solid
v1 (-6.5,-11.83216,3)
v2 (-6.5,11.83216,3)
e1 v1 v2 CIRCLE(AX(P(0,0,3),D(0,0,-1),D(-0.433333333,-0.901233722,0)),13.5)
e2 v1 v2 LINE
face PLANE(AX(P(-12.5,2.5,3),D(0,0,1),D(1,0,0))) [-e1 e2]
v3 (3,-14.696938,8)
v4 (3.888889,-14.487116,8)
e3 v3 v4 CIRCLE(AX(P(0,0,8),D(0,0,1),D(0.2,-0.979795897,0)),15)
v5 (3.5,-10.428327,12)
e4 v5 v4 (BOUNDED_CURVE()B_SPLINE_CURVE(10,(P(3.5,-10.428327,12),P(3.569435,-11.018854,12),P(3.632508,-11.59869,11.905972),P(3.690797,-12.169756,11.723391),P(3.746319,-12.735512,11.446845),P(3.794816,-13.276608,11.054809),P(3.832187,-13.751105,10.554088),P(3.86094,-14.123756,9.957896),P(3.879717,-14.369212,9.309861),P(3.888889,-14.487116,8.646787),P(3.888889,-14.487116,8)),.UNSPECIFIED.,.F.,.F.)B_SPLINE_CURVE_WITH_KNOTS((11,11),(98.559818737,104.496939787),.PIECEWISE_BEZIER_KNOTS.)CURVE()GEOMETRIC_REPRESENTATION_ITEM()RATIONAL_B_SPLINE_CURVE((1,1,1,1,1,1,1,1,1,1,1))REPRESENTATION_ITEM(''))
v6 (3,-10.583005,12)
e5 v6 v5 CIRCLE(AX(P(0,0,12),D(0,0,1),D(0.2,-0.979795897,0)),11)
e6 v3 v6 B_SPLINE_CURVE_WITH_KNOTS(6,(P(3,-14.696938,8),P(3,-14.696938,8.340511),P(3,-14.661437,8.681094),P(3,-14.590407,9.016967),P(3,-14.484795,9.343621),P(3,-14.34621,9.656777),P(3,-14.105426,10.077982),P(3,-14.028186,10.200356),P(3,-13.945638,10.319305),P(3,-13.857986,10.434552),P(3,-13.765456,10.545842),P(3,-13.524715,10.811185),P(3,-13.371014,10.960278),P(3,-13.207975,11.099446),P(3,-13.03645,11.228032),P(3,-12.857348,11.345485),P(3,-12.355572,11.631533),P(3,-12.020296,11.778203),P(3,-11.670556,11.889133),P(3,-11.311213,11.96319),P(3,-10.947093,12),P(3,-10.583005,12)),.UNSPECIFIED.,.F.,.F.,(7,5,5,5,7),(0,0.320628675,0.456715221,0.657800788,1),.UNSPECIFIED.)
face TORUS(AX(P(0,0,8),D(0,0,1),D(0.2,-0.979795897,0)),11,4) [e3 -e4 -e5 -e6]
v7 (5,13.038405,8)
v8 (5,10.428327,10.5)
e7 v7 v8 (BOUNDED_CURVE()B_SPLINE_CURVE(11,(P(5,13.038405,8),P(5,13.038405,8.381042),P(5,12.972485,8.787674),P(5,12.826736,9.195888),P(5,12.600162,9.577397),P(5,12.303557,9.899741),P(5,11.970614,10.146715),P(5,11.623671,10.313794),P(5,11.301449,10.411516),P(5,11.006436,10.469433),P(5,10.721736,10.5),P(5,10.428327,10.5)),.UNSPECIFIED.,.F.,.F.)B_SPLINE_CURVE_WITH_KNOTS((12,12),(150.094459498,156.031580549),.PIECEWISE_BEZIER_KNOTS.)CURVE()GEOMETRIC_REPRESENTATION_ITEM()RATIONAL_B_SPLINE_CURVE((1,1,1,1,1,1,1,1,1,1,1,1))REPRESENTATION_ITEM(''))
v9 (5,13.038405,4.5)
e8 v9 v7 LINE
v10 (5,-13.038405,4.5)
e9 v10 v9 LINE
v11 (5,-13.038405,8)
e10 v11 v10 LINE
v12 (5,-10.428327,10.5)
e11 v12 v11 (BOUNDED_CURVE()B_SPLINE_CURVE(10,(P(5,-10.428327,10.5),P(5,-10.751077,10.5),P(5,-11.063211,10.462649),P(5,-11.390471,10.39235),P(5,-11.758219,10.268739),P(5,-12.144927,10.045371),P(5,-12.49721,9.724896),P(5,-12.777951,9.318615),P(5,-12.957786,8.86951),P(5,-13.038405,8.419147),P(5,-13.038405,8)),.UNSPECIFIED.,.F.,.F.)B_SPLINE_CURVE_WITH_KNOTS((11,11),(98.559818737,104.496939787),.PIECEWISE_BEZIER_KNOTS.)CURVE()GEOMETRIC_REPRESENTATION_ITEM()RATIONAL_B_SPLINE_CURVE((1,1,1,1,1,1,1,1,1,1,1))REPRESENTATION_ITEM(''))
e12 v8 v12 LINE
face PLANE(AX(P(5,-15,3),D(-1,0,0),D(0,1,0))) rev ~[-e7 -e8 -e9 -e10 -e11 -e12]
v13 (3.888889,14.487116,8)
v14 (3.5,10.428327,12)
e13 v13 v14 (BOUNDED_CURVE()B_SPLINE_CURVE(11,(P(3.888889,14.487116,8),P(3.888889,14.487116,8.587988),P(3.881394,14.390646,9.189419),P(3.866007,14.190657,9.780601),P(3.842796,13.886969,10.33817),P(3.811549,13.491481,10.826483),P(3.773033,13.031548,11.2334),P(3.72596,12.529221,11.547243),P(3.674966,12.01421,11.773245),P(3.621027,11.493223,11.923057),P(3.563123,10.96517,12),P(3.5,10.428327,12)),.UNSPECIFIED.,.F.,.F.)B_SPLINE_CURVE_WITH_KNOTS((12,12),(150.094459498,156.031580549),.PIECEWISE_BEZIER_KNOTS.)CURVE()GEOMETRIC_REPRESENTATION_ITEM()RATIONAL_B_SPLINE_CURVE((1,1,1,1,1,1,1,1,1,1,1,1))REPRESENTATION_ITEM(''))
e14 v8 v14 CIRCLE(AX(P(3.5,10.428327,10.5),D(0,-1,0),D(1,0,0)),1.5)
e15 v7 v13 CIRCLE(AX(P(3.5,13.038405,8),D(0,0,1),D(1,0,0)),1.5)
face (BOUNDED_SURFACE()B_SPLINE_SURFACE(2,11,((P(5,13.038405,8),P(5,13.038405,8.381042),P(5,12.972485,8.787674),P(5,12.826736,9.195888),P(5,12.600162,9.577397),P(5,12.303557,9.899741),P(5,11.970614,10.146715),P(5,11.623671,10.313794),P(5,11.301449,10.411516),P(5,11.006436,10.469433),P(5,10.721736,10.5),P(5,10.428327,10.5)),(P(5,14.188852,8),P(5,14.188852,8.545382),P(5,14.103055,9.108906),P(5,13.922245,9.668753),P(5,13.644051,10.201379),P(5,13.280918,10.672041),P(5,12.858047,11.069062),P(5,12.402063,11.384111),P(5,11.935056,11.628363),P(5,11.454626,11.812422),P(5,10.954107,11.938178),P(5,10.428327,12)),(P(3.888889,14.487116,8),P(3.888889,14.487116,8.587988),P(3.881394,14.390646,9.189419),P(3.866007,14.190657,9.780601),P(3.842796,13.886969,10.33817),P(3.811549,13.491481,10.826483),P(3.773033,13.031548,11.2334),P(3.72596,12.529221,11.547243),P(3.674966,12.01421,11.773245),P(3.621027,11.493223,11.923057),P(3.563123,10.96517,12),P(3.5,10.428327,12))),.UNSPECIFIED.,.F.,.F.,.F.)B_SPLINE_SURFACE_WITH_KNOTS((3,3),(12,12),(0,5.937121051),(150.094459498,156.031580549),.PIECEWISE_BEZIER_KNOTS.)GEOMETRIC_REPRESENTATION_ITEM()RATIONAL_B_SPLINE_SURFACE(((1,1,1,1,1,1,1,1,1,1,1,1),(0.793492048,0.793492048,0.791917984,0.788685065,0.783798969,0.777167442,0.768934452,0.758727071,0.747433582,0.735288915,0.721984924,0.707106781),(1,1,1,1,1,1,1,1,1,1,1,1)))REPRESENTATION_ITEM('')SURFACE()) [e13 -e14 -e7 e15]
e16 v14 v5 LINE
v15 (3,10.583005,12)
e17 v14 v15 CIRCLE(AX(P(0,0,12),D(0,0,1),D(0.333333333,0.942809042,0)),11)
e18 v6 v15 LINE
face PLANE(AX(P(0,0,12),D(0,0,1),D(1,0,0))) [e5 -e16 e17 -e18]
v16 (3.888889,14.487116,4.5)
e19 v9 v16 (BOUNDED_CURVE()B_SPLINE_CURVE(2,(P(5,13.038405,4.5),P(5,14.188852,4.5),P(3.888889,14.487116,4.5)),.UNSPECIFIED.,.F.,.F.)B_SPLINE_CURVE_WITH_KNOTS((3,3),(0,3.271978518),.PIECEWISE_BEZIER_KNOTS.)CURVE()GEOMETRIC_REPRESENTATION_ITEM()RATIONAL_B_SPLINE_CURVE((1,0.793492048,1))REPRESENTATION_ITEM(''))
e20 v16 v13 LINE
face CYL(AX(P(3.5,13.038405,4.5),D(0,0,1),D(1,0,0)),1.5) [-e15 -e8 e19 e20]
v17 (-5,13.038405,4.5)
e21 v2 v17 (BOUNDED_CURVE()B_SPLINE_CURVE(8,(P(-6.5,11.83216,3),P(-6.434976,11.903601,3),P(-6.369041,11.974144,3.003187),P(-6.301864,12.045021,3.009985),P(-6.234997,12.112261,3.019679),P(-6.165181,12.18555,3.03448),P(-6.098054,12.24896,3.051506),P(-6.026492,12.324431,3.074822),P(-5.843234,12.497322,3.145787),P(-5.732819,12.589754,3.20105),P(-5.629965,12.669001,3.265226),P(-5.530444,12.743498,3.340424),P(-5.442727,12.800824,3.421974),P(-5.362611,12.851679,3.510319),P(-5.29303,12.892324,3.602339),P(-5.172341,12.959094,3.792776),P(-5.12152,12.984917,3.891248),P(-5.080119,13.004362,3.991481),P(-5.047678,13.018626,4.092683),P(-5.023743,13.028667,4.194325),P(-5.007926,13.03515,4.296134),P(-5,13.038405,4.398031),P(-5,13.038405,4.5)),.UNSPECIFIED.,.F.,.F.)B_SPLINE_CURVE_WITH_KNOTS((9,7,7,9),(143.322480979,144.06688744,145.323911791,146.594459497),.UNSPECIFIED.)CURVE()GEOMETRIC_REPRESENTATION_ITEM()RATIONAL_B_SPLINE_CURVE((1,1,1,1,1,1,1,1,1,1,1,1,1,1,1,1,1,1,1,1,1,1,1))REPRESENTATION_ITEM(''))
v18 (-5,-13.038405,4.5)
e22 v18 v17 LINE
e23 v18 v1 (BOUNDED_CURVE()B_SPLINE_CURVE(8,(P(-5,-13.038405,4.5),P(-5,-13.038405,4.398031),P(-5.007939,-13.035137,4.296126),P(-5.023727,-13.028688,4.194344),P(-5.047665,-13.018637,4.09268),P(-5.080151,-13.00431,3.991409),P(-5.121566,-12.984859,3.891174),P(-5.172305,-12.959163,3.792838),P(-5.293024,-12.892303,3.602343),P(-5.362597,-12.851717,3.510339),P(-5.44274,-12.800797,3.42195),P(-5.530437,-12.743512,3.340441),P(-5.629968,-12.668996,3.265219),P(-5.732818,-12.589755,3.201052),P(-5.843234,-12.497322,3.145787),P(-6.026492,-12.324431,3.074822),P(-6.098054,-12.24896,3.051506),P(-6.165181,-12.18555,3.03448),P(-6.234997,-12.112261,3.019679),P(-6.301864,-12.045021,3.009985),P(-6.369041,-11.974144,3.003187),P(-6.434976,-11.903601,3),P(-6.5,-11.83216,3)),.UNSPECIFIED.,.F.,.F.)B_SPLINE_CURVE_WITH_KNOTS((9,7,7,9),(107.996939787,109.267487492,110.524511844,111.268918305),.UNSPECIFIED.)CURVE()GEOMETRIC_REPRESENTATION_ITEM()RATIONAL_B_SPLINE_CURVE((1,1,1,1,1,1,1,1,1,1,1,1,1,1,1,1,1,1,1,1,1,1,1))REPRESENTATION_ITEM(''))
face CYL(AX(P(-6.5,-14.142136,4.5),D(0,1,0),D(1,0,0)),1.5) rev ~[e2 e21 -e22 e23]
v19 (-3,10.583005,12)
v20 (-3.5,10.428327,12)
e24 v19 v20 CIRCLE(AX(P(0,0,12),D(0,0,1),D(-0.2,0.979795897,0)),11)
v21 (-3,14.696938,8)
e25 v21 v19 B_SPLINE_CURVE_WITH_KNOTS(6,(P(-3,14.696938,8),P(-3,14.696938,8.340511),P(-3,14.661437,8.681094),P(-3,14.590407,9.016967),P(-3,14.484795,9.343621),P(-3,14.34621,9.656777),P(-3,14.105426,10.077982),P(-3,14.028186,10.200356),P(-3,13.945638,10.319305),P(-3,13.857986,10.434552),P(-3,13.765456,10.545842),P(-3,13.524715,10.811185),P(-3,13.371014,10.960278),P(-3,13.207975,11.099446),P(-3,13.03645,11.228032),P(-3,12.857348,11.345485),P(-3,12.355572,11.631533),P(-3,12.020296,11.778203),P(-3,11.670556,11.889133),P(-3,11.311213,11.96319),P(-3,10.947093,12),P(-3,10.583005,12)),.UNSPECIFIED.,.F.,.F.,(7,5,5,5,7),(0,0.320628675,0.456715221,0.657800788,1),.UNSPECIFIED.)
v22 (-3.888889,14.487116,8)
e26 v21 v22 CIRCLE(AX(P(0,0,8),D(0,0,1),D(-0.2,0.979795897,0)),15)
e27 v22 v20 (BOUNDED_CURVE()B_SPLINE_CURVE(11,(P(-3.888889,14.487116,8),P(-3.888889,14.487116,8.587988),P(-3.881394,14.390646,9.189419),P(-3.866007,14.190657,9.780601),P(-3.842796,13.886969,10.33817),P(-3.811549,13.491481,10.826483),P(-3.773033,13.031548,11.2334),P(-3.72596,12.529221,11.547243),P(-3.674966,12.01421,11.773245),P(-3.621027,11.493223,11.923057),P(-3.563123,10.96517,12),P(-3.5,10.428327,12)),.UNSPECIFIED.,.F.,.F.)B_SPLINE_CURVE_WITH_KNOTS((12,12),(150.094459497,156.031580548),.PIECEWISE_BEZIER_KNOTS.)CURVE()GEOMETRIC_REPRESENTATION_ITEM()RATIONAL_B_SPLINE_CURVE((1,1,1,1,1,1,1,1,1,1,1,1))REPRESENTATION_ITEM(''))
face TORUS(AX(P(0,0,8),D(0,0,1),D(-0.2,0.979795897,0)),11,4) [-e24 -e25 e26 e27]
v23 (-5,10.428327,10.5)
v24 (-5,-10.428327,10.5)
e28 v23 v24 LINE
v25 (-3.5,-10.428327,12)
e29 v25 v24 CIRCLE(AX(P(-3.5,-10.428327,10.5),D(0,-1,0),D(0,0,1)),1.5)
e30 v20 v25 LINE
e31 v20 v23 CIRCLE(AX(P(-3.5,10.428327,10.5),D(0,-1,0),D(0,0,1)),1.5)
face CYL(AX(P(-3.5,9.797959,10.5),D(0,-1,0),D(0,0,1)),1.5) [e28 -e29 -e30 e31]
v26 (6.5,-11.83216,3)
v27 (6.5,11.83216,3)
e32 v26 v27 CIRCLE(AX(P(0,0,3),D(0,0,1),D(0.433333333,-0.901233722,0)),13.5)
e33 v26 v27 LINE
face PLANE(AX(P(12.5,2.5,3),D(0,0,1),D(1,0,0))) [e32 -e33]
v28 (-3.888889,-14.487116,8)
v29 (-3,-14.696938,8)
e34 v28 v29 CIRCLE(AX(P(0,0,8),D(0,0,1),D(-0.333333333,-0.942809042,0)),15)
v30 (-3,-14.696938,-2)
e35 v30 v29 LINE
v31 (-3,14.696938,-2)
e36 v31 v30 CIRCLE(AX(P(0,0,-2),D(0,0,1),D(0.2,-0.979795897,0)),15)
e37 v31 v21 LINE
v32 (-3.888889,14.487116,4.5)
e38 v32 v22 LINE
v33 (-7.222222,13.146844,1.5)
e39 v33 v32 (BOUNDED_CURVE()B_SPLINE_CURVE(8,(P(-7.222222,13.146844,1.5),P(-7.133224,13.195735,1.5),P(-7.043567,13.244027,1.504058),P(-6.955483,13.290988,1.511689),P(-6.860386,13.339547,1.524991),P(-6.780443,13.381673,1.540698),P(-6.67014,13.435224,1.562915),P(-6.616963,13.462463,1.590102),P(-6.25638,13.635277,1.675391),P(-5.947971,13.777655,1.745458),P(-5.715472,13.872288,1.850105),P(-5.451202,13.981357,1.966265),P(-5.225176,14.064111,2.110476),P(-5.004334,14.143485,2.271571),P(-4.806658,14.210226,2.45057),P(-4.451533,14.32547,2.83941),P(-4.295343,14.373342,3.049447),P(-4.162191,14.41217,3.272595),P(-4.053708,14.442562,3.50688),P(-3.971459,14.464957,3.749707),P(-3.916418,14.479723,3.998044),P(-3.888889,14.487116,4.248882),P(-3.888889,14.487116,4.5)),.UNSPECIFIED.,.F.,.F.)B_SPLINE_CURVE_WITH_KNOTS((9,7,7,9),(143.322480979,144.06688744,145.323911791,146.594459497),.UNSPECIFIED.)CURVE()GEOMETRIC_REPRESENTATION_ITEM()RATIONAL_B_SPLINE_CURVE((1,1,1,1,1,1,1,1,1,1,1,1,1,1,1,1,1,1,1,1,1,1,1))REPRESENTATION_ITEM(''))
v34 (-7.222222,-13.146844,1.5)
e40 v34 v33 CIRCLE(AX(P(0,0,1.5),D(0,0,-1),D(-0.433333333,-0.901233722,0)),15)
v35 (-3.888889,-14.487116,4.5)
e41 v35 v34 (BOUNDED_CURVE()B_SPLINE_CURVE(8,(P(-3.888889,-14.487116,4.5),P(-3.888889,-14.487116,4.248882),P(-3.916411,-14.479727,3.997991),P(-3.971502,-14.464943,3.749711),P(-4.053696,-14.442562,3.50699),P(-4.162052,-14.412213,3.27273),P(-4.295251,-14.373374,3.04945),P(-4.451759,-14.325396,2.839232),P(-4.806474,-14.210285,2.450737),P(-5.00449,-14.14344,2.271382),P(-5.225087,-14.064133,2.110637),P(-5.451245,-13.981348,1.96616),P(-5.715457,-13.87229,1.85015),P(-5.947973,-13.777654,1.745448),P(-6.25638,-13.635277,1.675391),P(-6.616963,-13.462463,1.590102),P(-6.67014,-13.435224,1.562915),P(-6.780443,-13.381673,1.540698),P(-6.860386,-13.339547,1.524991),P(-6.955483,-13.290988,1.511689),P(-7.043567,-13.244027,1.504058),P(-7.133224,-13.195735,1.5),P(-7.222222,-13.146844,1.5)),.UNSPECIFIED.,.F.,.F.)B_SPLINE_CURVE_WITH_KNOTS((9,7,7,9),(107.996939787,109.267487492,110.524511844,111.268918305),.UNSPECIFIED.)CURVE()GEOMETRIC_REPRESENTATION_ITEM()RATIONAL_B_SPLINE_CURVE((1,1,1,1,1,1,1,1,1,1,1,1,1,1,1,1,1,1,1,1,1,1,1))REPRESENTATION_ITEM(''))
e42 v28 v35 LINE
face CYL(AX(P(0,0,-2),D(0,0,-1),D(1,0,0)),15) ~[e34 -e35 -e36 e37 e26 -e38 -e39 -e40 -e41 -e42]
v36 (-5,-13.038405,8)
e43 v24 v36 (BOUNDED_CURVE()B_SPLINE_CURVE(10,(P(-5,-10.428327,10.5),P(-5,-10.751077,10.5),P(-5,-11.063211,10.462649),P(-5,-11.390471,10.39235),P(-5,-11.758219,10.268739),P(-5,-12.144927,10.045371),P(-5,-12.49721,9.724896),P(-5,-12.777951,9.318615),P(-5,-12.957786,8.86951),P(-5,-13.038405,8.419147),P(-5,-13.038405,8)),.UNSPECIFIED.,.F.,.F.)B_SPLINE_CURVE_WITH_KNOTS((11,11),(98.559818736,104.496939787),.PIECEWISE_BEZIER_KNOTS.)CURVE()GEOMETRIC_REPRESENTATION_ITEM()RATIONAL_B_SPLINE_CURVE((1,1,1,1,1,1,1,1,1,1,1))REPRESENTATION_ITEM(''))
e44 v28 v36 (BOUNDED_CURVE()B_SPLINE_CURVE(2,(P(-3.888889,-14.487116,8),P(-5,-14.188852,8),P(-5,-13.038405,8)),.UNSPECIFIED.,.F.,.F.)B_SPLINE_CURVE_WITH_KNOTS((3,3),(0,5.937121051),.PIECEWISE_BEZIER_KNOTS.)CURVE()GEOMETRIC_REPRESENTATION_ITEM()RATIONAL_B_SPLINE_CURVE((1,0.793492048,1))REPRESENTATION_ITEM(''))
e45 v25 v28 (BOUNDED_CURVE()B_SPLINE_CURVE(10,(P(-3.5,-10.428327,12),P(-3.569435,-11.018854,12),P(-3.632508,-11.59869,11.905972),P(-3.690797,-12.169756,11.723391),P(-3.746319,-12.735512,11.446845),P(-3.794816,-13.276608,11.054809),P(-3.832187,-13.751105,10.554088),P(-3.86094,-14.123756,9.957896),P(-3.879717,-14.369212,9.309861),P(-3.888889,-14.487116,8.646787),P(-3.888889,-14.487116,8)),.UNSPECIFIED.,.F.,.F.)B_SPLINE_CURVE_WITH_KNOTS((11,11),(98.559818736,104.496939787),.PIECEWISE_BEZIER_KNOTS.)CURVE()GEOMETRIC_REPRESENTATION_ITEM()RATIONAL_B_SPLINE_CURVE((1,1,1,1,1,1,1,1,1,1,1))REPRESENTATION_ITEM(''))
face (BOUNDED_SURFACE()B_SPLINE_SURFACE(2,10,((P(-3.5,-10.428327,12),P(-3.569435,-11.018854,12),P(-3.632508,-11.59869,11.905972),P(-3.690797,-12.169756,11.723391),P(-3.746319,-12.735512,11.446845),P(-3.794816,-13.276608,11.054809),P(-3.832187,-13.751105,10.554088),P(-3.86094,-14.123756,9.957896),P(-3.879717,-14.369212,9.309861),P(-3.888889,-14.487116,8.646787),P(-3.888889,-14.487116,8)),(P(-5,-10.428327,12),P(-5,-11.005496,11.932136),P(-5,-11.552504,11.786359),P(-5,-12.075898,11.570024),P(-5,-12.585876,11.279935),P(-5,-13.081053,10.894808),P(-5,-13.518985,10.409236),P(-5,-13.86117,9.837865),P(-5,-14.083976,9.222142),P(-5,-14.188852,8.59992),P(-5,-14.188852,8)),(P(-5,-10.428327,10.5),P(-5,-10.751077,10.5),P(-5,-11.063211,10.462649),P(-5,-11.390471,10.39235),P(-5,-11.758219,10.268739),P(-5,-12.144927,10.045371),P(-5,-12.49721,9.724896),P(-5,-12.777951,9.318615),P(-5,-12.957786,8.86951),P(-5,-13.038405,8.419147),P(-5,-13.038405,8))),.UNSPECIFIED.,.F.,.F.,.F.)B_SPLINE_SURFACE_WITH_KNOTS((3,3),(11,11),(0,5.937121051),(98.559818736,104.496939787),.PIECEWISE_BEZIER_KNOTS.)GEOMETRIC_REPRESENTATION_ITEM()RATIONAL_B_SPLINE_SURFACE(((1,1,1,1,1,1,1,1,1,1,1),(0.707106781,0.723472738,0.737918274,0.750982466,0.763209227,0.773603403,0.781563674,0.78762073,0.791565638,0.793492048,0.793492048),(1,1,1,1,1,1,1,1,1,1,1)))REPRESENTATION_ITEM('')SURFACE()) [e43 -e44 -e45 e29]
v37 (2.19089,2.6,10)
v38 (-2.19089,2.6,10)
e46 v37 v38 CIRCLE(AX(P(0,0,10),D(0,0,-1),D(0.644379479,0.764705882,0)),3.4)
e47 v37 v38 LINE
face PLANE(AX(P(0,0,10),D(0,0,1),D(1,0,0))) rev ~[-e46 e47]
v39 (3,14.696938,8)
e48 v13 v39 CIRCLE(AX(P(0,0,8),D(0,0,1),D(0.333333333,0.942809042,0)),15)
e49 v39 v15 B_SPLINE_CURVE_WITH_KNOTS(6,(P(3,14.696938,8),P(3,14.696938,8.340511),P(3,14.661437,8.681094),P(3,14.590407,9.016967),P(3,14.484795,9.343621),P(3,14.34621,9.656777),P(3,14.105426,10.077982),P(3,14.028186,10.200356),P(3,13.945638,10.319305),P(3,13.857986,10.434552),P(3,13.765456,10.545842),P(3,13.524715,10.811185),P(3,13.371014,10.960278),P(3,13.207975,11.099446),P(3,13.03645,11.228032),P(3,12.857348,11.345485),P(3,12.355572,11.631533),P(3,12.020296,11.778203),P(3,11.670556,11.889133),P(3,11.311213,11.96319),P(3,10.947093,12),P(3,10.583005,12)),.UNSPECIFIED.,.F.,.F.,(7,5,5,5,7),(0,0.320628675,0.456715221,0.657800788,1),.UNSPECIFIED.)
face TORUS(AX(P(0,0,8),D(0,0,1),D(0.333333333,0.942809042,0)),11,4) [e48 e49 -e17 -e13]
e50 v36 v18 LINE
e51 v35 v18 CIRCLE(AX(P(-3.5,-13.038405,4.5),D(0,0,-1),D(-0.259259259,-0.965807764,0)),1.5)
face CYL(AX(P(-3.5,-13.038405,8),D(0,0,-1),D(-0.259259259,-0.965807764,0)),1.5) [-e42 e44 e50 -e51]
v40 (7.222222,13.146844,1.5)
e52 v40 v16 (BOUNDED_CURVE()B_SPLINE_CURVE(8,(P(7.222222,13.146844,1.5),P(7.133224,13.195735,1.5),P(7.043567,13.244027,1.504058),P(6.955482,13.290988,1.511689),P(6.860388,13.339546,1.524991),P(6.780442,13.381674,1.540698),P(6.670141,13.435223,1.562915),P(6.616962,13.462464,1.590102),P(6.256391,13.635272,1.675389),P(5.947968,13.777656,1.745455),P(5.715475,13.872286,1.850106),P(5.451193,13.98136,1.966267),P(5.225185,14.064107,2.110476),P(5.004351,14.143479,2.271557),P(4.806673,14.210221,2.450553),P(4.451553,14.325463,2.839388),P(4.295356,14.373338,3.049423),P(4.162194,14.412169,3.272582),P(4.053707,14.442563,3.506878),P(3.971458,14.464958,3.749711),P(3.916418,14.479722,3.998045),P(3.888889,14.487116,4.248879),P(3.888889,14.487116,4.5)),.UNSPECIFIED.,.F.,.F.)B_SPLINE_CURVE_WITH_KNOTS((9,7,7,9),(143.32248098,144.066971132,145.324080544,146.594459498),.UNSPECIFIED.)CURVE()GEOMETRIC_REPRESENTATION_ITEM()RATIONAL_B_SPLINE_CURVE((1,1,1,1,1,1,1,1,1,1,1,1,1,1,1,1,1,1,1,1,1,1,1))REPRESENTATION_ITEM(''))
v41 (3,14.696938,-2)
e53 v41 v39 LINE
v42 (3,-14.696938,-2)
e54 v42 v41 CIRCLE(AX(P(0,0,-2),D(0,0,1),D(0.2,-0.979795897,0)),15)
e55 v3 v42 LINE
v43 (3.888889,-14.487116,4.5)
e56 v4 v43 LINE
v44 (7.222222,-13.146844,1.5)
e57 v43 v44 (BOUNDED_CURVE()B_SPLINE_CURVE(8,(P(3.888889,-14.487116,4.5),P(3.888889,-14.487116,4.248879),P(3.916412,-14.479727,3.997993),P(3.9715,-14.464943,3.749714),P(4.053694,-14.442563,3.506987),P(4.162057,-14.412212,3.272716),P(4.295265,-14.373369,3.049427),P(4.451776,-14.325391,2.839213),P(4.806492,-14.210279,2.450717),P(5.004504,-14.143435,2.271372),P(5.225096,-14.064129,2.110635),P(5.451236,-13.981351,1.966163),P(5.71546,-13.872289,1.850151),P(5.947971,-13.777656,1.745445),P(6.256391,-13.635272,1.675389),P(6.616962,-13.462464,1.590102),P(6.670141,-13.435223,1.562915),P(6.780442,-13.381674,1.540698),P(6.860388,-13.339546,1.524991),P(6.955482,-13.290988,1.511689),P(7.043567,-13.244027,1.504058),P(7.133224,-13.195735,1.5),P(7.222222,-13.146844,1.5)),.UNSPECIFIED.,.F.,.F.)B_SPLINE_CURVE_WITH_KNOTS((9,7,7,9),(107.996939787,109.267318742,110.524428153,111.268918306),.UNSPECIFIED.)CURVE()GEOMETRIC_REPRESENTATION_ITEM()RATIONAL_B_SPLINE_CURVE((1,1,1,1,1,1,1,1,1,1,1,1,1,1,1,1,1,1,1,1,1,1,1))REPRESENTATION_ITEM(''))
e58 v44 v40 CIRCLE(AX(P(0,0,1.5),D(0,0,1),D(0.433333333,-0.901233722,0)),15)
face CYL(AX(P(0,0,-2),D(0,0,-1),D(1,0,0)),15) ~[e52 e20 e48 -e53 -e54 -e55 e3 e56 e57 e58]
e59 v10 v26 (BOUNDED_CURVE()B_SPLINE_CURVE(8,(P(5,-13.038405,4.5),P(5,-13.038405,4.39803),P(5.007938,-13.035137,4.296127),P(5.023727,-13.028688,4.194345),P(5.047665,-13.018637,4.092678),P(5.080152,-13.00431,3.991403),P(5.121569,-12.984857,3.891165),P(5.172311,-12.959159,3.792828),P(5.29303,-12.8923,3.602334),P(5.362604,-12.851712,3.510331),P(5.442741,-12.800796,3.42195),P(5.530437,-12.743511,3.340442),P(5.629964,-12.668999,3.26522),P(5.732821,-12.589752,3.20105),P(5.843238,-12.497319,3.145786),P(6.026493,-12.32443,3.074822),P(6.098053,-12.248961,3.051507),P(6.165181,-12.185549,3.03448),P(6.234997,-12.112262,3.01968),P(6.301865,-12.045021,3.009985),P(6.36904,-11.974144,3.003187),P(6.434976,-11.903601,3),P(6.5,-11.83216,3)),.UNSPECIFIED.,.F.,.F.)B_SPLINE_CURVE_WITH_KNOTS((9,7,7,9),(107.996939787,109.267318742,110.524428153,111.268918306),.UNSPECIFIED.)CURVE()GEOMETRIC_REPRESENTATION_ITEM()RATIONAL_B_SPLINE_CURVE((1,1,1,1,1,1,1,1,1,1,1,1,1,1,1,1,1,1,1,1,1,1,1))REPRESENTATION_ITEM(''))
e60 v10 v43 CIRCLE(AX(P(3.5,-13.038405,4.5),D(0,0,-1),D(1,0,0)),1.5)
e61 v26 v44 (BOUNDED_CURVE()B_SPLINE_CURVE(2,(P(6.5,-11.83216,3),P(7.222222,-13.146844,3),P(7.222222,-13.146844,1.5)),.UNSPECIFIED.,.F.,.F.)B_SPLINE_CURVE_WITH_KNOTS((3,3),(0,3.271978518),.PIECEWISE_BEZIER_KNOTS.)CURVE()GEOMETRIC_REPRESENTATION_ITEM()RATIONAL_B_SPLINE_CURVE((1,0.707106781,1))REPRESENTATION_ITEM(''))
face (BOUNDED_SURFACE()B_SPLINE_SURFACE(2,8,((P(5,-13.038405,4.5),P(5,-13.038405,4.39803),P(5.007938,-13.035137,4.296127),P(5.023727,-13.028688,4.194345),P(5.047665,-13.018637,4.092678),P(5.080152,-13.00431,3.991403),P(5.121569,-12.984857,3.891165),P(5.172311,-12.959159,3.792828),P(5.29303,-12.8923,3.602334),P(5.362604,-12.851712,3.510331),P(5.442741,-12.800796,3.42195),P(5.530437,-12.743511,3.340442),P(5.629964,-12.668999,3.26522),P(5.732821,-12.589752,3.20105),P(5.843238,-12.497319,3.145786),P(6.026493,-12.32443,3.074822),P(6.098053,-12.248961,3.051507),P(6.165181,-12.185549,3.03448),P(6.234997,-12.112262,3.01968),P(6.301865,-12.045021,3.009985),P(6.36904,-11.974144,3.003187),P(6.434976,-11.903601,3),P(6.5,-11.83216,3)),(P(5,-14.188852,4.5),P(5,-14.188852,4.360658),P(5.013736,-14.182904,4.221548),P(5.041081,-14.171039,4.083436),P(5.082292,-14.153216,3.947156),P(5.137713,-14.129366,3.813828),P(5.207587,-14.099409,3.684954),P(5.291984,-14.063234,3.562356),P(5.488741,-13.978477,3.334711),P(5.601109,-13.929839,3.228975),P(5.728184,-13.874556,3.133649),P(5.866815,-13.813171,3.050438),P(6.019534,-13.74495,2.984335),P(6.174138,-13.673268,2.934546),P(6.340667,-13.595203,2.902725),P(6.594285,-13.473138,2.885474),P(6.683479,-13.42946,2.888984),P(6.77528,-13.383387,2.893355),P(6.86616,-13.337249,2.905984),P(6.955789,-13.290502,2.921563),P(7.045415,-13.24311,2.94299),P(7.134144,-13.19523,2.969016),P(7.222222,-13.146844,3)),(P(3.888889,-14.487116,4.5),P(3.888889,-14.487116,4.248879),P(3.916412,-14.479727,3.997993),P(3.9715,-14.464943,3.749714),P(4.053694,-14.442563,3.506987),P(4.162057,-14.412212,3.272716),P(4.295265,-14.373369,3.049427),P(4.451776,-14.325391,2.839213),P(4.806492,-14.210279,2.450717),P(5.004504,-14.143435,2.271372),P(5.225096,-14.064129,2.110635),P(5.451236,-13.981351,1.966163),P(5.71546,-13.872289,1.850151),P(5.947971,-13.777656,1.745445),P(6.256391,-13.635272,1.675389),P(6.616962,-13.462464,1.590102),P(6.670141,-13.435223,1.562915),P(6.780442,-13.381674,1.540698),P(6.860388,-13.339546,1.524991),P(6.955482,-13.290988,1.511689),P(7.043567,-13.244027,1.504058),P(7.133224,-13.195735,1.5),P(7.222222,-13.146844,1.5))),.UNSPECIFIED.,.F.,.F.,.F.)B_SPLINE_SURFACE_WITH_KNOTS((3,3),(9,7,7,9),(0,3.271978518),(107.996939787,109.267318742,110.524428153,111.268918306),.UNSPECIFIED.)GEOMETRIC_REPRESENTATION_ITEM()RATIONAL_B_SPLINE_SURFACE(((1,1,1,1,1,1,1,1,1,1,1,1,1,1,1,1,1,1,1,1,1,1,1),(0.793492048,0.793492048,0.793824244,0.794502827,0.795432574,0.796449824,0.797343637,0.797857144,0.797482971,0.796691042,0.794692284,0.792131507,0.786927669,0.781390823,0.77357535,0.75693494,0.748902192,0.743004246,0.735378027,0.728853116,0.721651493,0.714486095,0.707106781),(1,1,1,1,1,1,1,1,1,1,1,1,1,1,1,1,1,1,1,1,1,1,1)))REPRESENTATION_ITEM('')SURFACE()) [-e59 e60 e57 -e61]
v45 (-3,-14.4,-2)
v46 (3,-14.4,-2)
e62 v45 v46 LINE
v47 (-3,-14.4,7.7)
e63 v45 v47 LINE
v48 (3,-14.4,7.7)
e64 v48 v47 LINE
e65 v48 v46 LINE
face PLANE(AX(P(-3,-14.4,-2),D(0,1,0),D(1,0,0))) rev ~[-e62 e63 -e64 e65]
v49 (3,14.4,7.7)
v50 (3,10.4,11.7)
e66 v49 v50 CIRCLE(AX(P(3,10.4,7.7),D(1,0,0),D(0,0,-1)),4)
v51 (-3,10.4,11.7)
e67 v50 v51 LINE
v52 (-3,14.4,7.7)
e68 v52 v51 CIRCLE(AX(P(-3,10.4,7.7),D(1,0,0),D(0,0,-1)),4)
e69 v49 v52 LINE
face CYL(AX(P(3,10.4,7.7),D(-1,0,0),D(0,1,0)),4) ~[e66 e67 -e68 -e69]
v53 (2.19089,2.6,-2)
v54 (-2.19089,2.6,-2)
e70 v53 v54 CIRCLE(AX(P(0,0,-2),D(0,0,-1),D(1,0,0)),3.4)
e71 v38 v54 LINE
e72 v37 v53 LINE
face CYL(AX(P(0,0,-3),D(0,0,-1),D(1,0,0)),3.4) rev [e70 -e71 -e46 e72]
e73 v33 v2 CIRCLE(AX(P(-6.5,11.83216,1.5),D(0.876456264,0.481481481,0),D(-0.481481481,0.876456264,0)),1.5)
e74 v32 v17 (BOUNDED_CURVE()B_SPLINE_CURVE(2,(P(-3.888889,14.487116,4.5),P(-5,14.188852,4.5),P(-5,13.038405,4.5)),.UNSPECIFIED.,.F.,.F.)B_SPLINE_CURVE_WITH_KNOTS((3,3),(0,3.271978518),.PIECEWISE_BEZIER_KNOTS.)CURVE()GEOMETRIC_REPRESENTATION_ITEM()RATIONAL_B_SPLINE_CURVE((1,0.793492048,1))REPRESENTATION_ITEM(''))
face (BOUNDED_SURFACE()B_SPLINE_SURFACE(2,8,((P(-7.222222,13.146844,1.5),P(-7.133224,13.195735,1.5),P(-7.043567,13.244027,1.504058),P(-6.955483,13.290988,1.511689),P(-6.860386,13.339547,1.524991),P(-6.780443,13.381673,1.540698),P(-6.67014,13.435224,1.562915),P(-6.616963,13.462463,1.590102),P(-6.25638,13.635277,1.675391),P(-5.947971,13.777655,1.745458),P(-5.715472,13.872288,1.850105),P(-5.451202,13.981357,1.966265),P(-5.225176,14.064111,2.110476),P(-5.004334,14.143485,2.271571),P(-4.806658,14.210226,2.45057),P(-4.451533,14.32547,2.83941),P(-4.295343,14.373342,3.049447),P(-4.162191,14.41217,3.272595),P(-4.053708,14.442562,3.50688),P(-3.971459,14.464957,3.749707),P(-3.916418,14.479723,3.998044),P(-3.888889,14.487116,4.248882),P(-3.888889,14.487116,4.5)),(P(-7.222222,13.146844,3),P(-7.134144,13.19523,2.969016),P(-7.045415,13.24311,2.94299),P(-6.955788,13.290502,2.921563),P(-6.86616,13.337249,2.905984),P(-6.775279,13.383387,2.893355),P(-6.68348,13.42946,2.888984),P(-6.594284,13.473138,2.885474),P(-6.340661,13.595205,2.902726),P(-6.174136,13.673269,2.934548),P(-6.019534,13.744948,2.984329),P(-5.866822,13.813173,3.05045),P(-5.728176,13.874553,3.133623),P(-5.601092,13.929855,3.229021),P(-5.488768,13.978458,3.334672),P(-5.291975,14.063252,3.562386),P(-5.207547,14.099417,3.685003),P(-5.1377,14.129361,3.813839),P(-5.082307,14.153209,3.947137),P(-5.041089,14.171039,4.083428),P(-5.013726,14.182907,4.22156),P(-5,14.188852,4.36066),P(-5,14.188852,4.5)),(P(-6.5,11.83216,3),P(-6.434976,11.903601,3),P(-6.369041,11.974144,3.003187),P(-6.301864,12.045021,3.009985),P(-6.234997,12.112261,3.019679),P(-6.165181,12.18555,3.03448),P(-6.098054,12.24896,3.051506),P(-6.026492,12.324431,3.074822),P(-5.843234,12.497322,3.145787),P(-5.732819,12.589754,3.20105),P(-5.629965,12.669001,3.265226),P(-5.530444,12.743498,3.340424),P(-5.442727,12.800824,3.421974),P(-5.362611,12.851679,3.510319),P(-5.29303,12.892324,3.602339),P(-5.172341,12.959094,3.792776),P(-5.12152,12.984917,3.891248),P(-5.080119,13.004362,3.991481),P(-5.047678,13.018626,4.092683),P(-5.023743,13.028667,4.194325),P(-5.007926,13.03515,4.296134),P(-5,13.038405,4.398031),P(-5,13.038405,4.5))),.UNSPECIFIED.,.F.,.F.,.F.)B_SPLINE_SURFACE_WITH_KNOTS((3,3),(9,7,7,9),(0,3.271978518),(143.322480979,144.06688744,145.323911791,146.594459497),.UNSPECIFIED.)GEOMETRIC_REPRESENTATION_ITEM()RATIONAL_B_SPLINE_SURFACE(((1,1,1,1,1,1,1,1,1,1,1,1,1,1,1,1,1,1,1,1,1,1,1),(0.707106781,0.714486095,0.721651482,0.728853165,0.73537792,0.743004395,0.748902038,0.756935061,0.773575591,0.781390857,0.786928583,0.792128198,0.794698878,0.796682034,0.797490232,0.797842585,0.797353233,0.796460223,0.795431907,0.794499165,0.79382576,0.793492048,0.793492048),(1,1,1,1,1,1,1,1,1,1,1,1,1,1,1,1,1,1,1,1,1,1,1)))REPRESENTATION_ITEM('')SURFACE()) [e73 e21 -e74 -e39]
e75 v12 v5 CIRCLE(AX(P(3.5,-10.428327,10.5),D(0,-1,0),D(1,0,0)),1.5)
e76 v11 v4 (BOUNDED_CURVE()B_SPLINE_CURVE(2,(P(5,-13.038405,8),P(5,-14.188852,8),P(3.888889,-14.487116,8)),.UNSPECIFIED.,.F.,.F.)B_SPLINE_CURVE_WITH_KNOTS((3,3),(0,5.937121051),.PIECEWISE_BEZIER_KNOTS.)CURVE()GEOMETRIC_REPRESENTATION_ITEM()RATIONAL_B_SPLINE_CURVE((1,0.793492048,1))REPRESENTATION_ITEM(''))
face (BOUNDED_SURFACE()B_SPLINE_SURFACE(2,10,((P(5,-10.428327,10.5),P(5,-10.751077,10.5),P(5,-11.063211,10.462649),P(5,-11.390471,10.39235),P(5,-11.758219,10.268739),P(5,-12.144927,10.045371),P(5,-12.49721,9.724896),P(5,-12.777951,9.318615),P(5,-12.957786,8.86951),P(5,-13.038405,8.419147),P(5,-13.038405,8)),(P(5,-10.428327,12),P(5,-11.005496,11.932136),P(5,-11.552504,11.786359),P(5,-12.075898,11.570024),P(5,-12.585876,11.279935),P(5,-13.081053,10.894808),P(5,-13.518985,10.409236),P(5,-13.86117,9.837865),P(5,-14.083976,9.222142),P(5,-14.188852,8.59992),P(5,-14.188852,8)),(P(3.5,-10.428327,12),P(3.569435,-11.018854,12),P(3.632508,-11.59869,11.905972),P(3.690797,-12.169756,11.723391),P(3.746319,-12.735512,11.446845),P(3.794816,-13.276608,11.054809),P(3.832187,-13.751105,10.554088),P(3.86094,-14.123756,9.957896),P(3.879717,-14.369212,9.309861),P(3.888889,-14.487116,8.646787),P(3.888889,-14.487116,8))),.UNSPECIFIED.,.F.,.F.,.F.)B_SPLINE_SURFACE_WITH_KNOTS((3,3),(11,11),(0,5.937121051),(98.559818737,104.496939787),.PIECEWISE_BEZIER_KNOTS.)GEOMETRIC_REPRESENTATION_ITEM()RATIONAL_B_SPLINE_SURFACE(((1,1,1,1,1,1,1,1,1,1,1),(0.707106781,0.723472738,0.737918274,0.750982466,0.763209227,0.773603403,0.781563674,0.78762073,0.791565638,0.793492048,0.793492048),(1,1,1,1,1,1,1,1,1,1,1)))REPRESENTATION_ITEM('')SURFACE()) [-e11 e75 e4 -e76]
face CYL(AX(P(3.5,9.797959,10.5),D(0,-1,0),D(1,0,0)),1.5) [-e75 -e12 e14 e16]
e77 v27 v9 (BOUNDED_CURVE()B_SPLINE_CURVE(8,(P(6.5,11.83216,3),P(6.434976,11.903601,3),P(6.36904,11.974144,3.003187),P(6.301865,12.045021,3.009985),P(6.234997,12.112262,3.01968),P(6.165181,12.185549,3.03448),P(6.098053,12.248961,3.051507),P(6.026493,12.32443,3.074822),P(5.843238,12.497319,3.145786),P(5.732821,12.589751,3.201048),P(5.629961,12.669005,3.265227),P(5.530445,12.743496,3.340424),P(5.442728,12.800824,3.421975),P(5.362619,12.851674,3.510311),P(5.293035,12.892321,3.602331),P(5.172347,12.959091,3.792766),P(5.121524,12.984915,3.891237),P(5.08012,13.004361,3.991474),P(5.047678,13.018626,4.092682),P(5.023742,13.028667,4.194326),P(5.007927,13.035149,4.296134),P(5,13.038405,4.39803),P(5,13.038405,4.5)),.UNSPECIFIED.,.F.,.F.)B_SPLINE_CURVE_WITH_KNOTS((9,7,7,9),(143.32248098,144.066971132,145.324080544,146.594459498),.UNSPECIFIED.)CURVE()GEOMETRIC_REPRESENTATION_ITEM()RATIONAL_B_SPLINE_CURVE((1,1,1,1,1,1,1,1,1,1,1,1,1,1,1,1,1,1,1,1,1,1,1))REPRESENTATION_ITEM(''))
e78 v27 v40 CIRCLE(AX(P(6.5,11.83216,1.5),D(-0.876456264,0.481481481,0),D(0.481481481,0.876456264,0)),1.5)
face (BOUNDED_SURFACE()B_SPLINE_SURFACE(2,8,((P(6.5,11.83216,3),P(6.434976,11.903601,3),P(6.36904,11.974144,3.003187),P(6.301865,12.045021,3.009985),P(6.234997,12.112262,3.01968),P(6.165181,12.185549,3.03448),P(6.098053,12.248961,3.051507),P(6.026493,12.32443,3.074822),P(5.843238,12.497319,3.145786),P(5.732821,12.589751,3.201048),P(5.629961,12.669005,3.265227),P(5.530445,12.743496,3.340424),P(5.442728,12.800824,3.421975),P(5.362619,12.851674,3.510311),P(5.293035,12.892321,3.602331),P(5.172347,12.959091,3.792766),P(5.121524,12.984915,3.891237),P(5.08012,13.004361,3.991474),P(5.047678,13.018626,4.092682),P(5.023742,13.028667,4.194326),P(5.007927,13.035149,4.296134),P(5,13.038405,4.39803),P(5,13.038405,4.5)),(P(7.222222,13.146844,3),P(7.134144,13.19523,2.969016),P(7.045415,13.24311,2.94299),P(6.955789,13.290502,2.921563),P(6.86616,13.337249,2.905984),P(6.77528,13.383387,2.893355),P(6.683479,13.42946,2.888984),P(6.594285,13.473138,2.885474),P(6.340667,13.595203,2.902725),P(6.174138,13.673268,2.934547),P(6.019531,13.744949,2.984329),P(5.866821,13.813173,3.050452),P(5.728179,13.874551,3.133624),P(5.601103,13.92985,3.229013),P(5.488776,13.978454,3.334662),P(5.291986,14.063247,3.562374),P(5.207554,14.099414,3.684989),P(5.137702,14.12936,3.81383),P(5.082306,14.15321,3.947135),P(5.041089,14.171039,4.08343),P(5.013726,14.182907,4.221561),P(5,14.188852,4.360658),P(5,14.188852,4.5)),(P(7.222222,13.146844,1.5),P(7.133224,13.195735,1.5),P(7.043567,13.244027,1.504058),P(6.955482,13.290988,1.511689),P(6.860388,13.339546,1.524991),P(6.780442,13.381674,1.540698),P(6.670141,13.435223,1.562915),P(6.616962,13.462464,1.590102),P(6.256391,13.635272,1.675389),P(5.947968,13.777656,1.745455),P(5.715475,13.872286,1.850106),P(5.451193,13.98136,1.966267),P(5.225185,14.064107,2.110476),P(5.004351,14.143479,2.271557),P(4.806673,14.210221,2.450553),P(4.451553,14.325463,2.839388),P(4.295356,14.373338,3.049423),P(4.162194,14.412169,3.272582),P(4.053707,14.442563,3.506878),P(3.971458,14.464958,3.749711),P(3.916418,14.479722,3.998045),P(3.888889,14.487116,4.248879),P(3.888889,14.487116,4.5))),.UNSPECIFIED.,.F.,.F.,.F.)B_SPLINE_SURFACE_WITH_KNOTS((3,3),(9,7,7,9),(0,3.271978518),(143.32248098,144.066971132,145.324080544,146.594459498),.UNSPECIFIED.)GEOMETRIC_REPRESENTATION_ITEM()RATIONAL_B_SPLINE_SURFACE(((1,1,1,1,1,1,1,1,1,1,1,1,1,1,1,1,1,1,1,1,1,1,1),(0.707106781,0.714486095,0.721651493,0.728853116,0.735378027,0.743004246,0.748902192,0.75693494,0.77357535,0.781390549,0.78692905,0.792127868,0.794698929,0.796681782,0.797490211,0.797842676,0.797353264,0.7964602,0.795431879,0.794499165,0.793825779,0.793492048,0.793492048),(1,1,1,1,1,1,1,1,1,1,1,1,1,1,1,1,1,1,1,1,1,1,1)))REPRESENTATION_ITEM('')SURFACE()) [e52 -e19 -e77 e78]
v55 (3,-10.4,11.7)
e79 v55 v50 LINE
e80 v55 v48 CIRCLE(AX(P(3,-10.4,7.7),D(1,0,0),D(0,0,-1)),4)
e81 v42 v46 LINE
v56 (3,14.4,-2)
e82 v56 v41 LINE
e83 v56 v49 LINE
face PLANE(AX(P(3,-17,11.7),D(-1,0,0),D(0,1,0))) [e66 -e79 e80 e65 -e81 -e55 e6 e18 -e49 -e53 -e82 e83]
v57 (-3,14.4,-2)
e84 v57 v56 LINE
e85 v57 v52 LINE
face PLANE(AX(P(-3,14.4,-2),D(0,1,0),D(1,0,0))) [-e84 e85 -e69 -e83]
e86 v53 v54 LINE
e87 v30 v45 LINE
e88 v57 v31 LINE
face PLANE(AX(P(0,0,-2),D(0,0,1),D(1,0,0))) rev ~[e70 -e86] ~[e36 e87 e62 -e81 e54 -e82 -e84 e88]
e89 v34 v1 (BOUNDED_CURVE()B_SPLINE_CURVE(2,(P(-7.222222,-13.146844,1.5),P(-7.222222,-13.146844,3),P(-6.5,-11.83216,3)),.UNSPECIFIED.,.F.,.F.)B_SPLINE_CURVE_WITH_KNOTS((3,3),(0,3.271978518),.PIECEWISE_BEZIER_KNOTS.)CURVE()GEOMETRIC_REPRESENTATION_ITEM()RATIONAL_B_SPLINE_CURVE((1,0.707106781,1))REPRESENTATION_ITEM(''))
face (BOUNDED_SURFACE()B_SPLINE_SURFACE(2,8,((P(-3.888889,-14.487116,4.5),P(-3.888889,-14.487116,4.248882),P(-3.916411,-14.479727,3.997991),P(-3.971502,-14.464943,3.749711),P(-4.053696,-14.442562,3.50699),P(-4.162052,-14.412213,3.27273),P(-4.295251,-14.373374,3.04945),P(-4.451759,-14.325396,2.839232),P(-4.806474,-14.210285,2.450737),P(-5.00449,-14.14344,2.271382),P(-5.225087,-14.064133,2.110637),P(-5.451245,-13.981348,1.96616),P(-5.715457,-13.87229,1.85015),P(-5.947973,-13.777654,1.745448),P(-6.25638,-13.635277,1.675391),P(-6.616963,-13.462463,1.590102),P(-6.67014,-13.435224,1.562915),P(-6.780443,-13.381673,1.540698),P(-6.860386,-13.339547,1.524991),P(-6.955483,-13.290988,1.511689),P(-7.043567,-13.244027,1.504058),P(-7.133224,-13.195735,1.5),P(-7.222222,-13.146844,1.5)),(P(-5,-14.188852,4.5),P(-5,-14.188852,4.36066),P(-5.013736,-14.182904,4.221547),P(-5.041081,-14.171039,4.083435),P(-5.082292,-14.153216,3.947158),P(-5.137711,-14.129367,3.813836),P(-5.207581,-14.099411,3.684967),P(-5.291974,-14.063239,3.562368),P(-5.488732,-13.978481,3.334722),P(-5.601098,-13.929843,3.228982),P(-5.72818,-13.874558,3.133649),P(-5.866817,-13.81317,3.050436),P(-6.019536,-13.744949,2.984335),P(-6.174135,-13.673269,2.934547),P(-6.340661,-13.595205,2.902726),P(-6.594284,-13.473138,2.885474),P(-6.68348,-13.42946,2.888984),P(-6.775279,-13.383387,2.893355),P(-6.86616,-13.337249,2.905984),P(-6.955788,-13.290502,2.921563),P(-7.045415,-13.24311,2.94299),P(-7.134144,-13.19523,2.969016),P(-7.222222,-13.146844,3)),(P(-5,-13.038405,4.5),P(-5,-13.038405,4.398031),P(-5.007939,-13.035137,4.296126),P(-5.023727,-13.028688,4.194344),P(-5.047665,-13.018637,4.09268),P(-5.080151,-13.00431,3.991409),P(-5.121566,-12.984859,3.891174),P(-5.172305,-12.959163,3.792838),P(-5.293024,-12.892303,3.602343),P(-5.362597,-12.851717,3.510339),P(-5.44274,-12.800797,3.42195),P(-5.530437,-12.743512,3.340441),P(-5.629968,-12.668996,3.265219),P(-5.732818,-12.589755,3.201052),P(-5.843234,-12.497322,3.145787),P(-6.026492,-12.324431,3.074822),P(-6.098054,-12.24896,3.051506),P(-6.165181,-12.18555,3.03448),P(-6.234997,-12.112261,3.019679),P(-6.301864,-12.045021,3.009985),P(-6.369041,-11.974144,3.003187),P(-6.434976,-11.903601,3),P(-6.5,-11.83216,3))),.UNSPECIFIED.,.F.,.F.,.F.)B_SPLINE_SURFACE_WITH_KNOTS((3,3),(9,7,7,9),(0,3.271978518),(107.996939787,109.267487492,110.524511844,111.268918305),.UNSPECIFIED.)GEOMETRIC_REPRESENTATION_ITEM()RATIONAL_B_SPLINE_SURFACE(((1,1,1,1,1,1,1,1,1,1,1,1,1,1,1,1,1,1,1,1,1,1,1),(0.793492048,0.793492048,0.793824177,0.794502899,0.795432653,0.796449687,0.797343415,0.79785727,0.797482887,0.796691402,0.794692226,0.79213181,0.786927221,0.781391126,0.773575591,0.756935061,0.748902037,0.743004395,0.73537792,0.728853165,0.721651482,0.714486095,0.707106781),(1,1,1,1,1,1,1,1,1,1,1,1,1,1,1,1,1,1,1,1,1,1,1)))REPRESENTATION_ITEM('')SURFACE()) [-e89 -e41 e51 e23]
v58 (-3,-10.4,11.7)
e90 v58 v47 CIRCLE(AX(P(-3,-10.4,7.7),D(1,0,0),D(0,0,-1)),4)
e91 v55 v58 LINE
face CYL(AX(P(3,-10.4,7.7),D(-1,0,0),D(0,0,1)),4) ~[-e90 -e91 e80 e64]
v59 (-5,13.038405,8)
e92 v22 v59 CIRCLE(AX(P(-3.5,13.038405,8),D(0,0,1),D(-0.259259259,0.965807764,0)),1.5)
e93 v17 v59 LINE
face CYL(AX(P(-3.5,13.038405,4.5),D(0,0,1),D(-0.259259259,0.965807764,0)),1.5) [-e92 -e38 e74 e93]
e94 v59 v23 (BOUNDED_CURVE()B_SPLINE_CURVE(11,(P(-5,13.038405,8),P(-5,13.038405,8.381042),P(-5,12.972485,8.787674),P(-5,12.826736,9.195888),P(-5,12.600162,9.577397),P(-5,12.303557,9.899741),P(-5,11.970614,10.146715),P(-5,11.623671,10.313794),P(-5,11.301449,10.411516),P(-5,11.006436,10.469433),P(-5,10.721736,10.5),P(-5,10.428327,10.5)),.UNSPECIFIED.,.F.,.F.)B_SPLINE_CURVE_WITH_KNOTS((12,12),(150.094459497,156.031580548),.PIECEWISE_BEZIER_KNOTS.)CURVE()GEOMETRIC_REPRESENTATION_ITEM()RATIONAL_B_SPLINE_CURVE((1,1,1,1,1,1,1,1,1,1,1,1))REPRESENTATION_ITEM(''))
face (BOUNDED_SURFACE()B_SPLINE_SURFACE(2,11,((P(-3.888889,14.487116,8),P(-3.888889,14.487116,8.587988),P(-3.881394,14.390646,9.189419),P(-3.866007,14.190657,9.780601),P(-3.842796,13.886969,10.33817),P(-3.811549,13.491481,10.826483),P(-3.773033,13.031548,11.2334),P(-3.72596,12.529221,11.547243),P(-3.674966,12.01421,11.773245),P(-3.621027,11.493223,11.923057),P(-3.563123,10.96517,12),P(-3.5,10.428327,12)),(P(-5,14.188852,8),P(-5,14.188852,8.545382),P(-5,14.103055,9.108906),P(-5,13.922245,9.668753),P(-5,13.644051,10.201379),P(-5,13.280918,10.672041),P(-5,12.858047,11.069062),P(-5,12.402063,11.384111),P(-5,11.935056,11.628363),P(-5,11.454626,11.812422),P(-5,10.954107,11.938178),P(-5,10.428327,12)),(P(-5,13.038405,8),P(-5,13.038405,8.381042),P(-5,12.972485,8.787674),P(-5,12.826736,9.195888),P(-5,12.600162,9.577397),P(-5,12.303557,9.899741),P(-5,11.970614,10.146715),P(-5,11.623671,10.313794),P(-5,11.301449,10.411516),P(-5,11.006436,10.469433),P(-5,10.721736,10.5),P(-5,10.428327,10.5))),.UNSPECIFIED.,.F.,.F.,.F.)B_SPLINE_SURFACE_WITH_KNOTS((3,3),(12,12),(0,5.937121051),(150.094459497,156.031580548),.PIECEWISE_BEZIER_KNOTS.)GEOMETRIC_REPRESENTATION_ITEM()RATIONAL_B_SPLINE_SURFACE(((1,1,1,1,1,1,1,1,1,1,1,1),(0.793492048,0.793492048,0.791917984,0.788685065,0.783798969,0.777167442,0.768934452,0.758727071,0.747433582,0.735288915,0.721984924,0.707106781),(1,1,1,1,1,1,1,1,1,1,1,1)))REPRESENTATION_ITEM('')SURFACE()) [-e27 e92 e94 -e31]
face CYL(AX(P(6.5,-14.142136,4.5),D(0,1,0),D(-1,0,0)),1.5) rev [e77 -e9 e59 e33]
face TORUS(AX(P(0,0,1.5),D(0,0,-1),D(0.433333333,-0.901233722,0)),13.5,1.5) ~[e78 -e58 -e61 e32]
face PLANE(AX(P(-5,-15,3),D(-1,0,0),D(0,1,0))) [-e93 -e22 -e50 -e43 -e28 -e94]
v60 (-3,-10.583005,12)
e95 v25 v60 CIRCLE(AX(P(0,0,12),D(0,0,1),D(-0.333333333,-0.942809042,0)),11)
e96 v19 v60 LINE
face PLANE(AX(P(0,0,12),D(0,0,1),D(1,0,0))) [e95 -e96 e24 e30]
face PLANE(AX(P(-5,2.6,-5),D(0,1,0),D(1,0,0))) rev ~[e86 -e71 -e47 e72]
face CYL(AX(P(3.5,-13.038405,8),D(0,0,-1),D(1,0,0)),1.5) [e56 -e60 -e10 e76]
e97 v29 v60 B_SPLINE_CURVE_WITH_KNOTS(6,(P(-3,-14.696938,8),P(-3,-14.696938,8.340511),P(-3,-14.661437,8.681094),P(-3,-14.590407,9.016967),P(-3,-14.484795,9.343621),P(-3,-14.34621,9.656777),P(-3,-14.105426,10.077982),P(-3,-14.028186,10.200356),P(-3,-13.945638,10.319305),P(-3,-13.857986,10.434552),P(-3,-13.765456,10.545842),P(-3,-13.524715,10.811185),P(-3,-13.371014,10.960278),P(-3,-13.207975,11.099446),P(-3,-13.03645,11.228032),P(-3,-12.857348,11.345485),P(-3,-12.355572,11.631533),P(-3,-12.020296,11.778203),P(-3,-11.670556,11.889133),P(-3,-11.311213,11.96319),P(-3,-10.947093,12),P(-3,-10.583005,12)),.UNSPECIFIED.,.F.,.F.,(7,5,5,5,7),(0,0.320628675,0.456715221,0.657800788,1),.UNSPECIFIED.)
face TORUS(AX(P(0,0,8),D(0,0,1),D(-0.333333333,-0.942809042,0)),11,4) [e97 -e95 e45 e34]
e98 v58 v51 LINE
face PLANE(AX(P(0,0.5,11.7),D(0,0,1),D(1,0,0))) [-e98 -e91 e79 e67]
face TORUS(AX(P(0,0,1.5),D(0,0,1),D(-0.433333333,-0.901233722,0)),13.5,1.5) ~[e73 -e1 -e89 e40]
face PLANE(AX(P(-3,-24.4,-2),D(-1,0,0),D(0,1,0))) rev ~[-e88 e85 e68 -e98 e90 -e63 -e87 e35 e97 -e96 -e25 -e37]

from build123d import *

# Parameters (mm, degrees)
BOX007_W          = 10
BOX007_H          = 10
BOX007_DEPTH      = 17
CYLINDER002_R     = 3.4
CYLINDER002_DEPTH = 13
BOX006_W          = 6
BOX006_H          = 10
BOX006_DEPTH      = 15
BOX005_W          = 6
BOX005_H          = 10
BOX005_DEPTH      = 15
CYLINDER001_R     = 15
CYLINDER001_DEPTH = 2.5
BOX004_W          = 6
BOX004_H          = 10
BOX004_DEPTH      = 15
BOX003_W          = 6
BOX003_H          = 10
BOX003_DEPTH      = 15
BOX002_W          = 6
BOX002_H          = 35
BOX002_DEPTH      = 10
BOX001_W          = 15
BOX001_H          = 35
BOX001_DEPTH      = 10
BOX_W             = 15
BOX_H             = 35
BOX_DEPTH         = 10
CYLINDER_R        = 15
CYLINDER_DEPTH    = 12
FILLET_R          = 4
FILLET001_R       = 1.5
FILLET002_R       = 1.5


with BuildPart() as cubo005:
    # Box007 → Box007 (new body)
    with BuildSketch(Plane(origin=(-5, 2.6, -28), x_dir=(1, 0, 0), z_dir=(0, 0, 1))):
        with Locations((5, 5)):
            Rectangle(BOX007_W, BOX007_H)
    extrude(amount=BOX007_DEPTH)


with BuildPart() as cut007:
    # Cylinder002 → Cylinder002 (new body)
    with BuildSketch(Plane.XY.offset(-26)):
        Circle(CYLINDER002_R)
    extrude(amount=CYLINDER002_DEPTH)

    # Cut007: cut Cubo005
    add(cubo005.part, mode=Mode.SUBTRACT)


with BuildPart() as cut007_1:
    # Cut007 placement: moved
    add(cut007.part.moved(Location((0, 0, 23))))


with BuildPart() as cubo004:
    # Box006 → Box006 (new body)
    with BuildSketch(Plane(origin=(-3, 14.4, -2), x_dir=(1, 0, 0), z_dir=(0, 0, 1))):
        with Locations((3, 5)):
            Rectangle(BOX006_W, BOX006_H)
    extrude(amount=BOX006_DEPTH)


with BuildPart() as cubo003:
    # Box005 → Box005 (new body)
    with BuildSketch(Plane(origin=(-3, -24.4, -2), x_dir=(1, 0, 0), z_dir=(0, 0, 1))):
        with Locations((3, 5)):
            Rectangle(BOX005_W, BOX005_H)
    extrude(amount=BOX005_DEPTH)


with BuildPart() as cilindro001:
    # Cylinder001 → Cylinder001 (new body)
    with BuildSketch(Plane.XY.offset(-2)):
        Circle(CYLINDER001_R)
    extrude(amount=CYLINDER001_DEPTH)


with BuildPart() as cubo002:
    # Box004 → Box004 (new body)
    with BuildSketch(Plane(origin=(-3, -24.4, -2), x_dir=(1, 0, 0), z_dir=(0, 0, 1))):
        with Locations((3, 5)):
            Rectangle(BOX004_W, BOX004_H)
    extrude(amount=BOX004_DEPTH)


with BuildPart() as cubo001:
    # Box003 → Box003 (new body)
    with BuildSketch(Plane(origin=(-3, 14.4, -2), x_dir=(1, 0, 0), z_dir=(0, 0, 1))):
        with Locations((3, 5)):
            Rectangle(BOX003_W, BOX003_H)
    extrude(amount=BOX003_DEPTH)


with BuildPart() as cubo:
    # Box002 → Box002 (new body)
    with BuildSketch(Plane(origin=(-3, -17, 11.7), x_dir=(1, 0, 0), z_dir=(0, 0, 1))):
        with Locations((3, 17.5)):
            Rectangle(BOX002_W, BOX002_H)
    extrude(amount=BOX002_DEPTH)


with BuildPart() as box001:
    # Box001 → Box001 (new body)
    with BuildSketch(Plane(origin=(-20, -15, 3), x_dir=(1, 0, 0), z_dir=(0, 0, 1))):
        with Locations((7.5, 17.5)):
            Rectangle(BOX001_W, BOX001_H)
    extrude(amount=BOX001_DEPTH)


with BuildPart() as box:
    # Box → Box (new body)
    with BuildSketch(Plane(origin=(5, -15, 3), x_dir=(1, 0, 0), z_dir=(0, 0, 1))):
        with Locations((7.5, 17.5)):
            Rectangle(BOX_W, BOX_H)
    extrude(amount=BOX_DEPTH)


with BuildPart() as fuel_knob:
    # Cylinder → Cylinder (new body)
    with BuildSketch(Plane.XY):
        Circle(CYLINDER_R)
    extrude(amount=CYLINDER_DEPTH)

    # Cut: cut Box
    add(box.part, mode=Mode.SUBTRACT)

    # Cut001: cut Box001
    add(box001.part, mode=Mode.SUBTRACT)

    # Cut002: cut Cubo
    add(cubo.part, mode=Mode.SUBTRACT)

    # Cut003: cut Cubo001
    add(cubo001.part, mode=Mode.SUBTRACT)

    # Cut004: cut Cubo002
    add(cubo002.part, mode=Mode.SUBTRACT)

    # Fusion: union Cilindro001
    add(cilindro001.part)

    # Cut005: cut Cubo003
    add(cubo003.part, mode=Mode.SUBTRACT)

    # Cut006: cut Cubo004
    add(cubo004.part, mode=Mode.SUBTRACT)

    # Fillet
    fillet_edges = [fuel_knob.edges().sort_by_distance(p)[0] for p in [
        (0, -14.4, 11.7),
        (0, 14.4, 11.7),
        (-4.009607, -14.454171, 12),
        (-4.009607, 14.454171, 12),
        (4.009607, 14.454171, 12),
        (4.009607, -14.454171, 12),
    ]]
    fillet(fillet_edges, radius=FILLET_R)

    # Fillet001
    fillet001_edges = [fuel_knob.edges().sort_by_distance(p)[0] for p in [
        (-5, 0, 3),
        (5, 0, 3),
    ]]
    fillet(fillet001_edges, radius=FILLET001_R)

    # Fillet002
    fillet002_edges = [fuel_knob.edges().sort_by_distance(p)[0] for p in [
        (-5, 0, 12),
        (5, 0, 12),
    ]]
    fillet(fillet002_edges, radius=FILLET002_R)

    # Cut008: cut Cut007
    add(cut007_1.part, mode=Mode.SUBTRACT)


solid = fuel_knob.part
